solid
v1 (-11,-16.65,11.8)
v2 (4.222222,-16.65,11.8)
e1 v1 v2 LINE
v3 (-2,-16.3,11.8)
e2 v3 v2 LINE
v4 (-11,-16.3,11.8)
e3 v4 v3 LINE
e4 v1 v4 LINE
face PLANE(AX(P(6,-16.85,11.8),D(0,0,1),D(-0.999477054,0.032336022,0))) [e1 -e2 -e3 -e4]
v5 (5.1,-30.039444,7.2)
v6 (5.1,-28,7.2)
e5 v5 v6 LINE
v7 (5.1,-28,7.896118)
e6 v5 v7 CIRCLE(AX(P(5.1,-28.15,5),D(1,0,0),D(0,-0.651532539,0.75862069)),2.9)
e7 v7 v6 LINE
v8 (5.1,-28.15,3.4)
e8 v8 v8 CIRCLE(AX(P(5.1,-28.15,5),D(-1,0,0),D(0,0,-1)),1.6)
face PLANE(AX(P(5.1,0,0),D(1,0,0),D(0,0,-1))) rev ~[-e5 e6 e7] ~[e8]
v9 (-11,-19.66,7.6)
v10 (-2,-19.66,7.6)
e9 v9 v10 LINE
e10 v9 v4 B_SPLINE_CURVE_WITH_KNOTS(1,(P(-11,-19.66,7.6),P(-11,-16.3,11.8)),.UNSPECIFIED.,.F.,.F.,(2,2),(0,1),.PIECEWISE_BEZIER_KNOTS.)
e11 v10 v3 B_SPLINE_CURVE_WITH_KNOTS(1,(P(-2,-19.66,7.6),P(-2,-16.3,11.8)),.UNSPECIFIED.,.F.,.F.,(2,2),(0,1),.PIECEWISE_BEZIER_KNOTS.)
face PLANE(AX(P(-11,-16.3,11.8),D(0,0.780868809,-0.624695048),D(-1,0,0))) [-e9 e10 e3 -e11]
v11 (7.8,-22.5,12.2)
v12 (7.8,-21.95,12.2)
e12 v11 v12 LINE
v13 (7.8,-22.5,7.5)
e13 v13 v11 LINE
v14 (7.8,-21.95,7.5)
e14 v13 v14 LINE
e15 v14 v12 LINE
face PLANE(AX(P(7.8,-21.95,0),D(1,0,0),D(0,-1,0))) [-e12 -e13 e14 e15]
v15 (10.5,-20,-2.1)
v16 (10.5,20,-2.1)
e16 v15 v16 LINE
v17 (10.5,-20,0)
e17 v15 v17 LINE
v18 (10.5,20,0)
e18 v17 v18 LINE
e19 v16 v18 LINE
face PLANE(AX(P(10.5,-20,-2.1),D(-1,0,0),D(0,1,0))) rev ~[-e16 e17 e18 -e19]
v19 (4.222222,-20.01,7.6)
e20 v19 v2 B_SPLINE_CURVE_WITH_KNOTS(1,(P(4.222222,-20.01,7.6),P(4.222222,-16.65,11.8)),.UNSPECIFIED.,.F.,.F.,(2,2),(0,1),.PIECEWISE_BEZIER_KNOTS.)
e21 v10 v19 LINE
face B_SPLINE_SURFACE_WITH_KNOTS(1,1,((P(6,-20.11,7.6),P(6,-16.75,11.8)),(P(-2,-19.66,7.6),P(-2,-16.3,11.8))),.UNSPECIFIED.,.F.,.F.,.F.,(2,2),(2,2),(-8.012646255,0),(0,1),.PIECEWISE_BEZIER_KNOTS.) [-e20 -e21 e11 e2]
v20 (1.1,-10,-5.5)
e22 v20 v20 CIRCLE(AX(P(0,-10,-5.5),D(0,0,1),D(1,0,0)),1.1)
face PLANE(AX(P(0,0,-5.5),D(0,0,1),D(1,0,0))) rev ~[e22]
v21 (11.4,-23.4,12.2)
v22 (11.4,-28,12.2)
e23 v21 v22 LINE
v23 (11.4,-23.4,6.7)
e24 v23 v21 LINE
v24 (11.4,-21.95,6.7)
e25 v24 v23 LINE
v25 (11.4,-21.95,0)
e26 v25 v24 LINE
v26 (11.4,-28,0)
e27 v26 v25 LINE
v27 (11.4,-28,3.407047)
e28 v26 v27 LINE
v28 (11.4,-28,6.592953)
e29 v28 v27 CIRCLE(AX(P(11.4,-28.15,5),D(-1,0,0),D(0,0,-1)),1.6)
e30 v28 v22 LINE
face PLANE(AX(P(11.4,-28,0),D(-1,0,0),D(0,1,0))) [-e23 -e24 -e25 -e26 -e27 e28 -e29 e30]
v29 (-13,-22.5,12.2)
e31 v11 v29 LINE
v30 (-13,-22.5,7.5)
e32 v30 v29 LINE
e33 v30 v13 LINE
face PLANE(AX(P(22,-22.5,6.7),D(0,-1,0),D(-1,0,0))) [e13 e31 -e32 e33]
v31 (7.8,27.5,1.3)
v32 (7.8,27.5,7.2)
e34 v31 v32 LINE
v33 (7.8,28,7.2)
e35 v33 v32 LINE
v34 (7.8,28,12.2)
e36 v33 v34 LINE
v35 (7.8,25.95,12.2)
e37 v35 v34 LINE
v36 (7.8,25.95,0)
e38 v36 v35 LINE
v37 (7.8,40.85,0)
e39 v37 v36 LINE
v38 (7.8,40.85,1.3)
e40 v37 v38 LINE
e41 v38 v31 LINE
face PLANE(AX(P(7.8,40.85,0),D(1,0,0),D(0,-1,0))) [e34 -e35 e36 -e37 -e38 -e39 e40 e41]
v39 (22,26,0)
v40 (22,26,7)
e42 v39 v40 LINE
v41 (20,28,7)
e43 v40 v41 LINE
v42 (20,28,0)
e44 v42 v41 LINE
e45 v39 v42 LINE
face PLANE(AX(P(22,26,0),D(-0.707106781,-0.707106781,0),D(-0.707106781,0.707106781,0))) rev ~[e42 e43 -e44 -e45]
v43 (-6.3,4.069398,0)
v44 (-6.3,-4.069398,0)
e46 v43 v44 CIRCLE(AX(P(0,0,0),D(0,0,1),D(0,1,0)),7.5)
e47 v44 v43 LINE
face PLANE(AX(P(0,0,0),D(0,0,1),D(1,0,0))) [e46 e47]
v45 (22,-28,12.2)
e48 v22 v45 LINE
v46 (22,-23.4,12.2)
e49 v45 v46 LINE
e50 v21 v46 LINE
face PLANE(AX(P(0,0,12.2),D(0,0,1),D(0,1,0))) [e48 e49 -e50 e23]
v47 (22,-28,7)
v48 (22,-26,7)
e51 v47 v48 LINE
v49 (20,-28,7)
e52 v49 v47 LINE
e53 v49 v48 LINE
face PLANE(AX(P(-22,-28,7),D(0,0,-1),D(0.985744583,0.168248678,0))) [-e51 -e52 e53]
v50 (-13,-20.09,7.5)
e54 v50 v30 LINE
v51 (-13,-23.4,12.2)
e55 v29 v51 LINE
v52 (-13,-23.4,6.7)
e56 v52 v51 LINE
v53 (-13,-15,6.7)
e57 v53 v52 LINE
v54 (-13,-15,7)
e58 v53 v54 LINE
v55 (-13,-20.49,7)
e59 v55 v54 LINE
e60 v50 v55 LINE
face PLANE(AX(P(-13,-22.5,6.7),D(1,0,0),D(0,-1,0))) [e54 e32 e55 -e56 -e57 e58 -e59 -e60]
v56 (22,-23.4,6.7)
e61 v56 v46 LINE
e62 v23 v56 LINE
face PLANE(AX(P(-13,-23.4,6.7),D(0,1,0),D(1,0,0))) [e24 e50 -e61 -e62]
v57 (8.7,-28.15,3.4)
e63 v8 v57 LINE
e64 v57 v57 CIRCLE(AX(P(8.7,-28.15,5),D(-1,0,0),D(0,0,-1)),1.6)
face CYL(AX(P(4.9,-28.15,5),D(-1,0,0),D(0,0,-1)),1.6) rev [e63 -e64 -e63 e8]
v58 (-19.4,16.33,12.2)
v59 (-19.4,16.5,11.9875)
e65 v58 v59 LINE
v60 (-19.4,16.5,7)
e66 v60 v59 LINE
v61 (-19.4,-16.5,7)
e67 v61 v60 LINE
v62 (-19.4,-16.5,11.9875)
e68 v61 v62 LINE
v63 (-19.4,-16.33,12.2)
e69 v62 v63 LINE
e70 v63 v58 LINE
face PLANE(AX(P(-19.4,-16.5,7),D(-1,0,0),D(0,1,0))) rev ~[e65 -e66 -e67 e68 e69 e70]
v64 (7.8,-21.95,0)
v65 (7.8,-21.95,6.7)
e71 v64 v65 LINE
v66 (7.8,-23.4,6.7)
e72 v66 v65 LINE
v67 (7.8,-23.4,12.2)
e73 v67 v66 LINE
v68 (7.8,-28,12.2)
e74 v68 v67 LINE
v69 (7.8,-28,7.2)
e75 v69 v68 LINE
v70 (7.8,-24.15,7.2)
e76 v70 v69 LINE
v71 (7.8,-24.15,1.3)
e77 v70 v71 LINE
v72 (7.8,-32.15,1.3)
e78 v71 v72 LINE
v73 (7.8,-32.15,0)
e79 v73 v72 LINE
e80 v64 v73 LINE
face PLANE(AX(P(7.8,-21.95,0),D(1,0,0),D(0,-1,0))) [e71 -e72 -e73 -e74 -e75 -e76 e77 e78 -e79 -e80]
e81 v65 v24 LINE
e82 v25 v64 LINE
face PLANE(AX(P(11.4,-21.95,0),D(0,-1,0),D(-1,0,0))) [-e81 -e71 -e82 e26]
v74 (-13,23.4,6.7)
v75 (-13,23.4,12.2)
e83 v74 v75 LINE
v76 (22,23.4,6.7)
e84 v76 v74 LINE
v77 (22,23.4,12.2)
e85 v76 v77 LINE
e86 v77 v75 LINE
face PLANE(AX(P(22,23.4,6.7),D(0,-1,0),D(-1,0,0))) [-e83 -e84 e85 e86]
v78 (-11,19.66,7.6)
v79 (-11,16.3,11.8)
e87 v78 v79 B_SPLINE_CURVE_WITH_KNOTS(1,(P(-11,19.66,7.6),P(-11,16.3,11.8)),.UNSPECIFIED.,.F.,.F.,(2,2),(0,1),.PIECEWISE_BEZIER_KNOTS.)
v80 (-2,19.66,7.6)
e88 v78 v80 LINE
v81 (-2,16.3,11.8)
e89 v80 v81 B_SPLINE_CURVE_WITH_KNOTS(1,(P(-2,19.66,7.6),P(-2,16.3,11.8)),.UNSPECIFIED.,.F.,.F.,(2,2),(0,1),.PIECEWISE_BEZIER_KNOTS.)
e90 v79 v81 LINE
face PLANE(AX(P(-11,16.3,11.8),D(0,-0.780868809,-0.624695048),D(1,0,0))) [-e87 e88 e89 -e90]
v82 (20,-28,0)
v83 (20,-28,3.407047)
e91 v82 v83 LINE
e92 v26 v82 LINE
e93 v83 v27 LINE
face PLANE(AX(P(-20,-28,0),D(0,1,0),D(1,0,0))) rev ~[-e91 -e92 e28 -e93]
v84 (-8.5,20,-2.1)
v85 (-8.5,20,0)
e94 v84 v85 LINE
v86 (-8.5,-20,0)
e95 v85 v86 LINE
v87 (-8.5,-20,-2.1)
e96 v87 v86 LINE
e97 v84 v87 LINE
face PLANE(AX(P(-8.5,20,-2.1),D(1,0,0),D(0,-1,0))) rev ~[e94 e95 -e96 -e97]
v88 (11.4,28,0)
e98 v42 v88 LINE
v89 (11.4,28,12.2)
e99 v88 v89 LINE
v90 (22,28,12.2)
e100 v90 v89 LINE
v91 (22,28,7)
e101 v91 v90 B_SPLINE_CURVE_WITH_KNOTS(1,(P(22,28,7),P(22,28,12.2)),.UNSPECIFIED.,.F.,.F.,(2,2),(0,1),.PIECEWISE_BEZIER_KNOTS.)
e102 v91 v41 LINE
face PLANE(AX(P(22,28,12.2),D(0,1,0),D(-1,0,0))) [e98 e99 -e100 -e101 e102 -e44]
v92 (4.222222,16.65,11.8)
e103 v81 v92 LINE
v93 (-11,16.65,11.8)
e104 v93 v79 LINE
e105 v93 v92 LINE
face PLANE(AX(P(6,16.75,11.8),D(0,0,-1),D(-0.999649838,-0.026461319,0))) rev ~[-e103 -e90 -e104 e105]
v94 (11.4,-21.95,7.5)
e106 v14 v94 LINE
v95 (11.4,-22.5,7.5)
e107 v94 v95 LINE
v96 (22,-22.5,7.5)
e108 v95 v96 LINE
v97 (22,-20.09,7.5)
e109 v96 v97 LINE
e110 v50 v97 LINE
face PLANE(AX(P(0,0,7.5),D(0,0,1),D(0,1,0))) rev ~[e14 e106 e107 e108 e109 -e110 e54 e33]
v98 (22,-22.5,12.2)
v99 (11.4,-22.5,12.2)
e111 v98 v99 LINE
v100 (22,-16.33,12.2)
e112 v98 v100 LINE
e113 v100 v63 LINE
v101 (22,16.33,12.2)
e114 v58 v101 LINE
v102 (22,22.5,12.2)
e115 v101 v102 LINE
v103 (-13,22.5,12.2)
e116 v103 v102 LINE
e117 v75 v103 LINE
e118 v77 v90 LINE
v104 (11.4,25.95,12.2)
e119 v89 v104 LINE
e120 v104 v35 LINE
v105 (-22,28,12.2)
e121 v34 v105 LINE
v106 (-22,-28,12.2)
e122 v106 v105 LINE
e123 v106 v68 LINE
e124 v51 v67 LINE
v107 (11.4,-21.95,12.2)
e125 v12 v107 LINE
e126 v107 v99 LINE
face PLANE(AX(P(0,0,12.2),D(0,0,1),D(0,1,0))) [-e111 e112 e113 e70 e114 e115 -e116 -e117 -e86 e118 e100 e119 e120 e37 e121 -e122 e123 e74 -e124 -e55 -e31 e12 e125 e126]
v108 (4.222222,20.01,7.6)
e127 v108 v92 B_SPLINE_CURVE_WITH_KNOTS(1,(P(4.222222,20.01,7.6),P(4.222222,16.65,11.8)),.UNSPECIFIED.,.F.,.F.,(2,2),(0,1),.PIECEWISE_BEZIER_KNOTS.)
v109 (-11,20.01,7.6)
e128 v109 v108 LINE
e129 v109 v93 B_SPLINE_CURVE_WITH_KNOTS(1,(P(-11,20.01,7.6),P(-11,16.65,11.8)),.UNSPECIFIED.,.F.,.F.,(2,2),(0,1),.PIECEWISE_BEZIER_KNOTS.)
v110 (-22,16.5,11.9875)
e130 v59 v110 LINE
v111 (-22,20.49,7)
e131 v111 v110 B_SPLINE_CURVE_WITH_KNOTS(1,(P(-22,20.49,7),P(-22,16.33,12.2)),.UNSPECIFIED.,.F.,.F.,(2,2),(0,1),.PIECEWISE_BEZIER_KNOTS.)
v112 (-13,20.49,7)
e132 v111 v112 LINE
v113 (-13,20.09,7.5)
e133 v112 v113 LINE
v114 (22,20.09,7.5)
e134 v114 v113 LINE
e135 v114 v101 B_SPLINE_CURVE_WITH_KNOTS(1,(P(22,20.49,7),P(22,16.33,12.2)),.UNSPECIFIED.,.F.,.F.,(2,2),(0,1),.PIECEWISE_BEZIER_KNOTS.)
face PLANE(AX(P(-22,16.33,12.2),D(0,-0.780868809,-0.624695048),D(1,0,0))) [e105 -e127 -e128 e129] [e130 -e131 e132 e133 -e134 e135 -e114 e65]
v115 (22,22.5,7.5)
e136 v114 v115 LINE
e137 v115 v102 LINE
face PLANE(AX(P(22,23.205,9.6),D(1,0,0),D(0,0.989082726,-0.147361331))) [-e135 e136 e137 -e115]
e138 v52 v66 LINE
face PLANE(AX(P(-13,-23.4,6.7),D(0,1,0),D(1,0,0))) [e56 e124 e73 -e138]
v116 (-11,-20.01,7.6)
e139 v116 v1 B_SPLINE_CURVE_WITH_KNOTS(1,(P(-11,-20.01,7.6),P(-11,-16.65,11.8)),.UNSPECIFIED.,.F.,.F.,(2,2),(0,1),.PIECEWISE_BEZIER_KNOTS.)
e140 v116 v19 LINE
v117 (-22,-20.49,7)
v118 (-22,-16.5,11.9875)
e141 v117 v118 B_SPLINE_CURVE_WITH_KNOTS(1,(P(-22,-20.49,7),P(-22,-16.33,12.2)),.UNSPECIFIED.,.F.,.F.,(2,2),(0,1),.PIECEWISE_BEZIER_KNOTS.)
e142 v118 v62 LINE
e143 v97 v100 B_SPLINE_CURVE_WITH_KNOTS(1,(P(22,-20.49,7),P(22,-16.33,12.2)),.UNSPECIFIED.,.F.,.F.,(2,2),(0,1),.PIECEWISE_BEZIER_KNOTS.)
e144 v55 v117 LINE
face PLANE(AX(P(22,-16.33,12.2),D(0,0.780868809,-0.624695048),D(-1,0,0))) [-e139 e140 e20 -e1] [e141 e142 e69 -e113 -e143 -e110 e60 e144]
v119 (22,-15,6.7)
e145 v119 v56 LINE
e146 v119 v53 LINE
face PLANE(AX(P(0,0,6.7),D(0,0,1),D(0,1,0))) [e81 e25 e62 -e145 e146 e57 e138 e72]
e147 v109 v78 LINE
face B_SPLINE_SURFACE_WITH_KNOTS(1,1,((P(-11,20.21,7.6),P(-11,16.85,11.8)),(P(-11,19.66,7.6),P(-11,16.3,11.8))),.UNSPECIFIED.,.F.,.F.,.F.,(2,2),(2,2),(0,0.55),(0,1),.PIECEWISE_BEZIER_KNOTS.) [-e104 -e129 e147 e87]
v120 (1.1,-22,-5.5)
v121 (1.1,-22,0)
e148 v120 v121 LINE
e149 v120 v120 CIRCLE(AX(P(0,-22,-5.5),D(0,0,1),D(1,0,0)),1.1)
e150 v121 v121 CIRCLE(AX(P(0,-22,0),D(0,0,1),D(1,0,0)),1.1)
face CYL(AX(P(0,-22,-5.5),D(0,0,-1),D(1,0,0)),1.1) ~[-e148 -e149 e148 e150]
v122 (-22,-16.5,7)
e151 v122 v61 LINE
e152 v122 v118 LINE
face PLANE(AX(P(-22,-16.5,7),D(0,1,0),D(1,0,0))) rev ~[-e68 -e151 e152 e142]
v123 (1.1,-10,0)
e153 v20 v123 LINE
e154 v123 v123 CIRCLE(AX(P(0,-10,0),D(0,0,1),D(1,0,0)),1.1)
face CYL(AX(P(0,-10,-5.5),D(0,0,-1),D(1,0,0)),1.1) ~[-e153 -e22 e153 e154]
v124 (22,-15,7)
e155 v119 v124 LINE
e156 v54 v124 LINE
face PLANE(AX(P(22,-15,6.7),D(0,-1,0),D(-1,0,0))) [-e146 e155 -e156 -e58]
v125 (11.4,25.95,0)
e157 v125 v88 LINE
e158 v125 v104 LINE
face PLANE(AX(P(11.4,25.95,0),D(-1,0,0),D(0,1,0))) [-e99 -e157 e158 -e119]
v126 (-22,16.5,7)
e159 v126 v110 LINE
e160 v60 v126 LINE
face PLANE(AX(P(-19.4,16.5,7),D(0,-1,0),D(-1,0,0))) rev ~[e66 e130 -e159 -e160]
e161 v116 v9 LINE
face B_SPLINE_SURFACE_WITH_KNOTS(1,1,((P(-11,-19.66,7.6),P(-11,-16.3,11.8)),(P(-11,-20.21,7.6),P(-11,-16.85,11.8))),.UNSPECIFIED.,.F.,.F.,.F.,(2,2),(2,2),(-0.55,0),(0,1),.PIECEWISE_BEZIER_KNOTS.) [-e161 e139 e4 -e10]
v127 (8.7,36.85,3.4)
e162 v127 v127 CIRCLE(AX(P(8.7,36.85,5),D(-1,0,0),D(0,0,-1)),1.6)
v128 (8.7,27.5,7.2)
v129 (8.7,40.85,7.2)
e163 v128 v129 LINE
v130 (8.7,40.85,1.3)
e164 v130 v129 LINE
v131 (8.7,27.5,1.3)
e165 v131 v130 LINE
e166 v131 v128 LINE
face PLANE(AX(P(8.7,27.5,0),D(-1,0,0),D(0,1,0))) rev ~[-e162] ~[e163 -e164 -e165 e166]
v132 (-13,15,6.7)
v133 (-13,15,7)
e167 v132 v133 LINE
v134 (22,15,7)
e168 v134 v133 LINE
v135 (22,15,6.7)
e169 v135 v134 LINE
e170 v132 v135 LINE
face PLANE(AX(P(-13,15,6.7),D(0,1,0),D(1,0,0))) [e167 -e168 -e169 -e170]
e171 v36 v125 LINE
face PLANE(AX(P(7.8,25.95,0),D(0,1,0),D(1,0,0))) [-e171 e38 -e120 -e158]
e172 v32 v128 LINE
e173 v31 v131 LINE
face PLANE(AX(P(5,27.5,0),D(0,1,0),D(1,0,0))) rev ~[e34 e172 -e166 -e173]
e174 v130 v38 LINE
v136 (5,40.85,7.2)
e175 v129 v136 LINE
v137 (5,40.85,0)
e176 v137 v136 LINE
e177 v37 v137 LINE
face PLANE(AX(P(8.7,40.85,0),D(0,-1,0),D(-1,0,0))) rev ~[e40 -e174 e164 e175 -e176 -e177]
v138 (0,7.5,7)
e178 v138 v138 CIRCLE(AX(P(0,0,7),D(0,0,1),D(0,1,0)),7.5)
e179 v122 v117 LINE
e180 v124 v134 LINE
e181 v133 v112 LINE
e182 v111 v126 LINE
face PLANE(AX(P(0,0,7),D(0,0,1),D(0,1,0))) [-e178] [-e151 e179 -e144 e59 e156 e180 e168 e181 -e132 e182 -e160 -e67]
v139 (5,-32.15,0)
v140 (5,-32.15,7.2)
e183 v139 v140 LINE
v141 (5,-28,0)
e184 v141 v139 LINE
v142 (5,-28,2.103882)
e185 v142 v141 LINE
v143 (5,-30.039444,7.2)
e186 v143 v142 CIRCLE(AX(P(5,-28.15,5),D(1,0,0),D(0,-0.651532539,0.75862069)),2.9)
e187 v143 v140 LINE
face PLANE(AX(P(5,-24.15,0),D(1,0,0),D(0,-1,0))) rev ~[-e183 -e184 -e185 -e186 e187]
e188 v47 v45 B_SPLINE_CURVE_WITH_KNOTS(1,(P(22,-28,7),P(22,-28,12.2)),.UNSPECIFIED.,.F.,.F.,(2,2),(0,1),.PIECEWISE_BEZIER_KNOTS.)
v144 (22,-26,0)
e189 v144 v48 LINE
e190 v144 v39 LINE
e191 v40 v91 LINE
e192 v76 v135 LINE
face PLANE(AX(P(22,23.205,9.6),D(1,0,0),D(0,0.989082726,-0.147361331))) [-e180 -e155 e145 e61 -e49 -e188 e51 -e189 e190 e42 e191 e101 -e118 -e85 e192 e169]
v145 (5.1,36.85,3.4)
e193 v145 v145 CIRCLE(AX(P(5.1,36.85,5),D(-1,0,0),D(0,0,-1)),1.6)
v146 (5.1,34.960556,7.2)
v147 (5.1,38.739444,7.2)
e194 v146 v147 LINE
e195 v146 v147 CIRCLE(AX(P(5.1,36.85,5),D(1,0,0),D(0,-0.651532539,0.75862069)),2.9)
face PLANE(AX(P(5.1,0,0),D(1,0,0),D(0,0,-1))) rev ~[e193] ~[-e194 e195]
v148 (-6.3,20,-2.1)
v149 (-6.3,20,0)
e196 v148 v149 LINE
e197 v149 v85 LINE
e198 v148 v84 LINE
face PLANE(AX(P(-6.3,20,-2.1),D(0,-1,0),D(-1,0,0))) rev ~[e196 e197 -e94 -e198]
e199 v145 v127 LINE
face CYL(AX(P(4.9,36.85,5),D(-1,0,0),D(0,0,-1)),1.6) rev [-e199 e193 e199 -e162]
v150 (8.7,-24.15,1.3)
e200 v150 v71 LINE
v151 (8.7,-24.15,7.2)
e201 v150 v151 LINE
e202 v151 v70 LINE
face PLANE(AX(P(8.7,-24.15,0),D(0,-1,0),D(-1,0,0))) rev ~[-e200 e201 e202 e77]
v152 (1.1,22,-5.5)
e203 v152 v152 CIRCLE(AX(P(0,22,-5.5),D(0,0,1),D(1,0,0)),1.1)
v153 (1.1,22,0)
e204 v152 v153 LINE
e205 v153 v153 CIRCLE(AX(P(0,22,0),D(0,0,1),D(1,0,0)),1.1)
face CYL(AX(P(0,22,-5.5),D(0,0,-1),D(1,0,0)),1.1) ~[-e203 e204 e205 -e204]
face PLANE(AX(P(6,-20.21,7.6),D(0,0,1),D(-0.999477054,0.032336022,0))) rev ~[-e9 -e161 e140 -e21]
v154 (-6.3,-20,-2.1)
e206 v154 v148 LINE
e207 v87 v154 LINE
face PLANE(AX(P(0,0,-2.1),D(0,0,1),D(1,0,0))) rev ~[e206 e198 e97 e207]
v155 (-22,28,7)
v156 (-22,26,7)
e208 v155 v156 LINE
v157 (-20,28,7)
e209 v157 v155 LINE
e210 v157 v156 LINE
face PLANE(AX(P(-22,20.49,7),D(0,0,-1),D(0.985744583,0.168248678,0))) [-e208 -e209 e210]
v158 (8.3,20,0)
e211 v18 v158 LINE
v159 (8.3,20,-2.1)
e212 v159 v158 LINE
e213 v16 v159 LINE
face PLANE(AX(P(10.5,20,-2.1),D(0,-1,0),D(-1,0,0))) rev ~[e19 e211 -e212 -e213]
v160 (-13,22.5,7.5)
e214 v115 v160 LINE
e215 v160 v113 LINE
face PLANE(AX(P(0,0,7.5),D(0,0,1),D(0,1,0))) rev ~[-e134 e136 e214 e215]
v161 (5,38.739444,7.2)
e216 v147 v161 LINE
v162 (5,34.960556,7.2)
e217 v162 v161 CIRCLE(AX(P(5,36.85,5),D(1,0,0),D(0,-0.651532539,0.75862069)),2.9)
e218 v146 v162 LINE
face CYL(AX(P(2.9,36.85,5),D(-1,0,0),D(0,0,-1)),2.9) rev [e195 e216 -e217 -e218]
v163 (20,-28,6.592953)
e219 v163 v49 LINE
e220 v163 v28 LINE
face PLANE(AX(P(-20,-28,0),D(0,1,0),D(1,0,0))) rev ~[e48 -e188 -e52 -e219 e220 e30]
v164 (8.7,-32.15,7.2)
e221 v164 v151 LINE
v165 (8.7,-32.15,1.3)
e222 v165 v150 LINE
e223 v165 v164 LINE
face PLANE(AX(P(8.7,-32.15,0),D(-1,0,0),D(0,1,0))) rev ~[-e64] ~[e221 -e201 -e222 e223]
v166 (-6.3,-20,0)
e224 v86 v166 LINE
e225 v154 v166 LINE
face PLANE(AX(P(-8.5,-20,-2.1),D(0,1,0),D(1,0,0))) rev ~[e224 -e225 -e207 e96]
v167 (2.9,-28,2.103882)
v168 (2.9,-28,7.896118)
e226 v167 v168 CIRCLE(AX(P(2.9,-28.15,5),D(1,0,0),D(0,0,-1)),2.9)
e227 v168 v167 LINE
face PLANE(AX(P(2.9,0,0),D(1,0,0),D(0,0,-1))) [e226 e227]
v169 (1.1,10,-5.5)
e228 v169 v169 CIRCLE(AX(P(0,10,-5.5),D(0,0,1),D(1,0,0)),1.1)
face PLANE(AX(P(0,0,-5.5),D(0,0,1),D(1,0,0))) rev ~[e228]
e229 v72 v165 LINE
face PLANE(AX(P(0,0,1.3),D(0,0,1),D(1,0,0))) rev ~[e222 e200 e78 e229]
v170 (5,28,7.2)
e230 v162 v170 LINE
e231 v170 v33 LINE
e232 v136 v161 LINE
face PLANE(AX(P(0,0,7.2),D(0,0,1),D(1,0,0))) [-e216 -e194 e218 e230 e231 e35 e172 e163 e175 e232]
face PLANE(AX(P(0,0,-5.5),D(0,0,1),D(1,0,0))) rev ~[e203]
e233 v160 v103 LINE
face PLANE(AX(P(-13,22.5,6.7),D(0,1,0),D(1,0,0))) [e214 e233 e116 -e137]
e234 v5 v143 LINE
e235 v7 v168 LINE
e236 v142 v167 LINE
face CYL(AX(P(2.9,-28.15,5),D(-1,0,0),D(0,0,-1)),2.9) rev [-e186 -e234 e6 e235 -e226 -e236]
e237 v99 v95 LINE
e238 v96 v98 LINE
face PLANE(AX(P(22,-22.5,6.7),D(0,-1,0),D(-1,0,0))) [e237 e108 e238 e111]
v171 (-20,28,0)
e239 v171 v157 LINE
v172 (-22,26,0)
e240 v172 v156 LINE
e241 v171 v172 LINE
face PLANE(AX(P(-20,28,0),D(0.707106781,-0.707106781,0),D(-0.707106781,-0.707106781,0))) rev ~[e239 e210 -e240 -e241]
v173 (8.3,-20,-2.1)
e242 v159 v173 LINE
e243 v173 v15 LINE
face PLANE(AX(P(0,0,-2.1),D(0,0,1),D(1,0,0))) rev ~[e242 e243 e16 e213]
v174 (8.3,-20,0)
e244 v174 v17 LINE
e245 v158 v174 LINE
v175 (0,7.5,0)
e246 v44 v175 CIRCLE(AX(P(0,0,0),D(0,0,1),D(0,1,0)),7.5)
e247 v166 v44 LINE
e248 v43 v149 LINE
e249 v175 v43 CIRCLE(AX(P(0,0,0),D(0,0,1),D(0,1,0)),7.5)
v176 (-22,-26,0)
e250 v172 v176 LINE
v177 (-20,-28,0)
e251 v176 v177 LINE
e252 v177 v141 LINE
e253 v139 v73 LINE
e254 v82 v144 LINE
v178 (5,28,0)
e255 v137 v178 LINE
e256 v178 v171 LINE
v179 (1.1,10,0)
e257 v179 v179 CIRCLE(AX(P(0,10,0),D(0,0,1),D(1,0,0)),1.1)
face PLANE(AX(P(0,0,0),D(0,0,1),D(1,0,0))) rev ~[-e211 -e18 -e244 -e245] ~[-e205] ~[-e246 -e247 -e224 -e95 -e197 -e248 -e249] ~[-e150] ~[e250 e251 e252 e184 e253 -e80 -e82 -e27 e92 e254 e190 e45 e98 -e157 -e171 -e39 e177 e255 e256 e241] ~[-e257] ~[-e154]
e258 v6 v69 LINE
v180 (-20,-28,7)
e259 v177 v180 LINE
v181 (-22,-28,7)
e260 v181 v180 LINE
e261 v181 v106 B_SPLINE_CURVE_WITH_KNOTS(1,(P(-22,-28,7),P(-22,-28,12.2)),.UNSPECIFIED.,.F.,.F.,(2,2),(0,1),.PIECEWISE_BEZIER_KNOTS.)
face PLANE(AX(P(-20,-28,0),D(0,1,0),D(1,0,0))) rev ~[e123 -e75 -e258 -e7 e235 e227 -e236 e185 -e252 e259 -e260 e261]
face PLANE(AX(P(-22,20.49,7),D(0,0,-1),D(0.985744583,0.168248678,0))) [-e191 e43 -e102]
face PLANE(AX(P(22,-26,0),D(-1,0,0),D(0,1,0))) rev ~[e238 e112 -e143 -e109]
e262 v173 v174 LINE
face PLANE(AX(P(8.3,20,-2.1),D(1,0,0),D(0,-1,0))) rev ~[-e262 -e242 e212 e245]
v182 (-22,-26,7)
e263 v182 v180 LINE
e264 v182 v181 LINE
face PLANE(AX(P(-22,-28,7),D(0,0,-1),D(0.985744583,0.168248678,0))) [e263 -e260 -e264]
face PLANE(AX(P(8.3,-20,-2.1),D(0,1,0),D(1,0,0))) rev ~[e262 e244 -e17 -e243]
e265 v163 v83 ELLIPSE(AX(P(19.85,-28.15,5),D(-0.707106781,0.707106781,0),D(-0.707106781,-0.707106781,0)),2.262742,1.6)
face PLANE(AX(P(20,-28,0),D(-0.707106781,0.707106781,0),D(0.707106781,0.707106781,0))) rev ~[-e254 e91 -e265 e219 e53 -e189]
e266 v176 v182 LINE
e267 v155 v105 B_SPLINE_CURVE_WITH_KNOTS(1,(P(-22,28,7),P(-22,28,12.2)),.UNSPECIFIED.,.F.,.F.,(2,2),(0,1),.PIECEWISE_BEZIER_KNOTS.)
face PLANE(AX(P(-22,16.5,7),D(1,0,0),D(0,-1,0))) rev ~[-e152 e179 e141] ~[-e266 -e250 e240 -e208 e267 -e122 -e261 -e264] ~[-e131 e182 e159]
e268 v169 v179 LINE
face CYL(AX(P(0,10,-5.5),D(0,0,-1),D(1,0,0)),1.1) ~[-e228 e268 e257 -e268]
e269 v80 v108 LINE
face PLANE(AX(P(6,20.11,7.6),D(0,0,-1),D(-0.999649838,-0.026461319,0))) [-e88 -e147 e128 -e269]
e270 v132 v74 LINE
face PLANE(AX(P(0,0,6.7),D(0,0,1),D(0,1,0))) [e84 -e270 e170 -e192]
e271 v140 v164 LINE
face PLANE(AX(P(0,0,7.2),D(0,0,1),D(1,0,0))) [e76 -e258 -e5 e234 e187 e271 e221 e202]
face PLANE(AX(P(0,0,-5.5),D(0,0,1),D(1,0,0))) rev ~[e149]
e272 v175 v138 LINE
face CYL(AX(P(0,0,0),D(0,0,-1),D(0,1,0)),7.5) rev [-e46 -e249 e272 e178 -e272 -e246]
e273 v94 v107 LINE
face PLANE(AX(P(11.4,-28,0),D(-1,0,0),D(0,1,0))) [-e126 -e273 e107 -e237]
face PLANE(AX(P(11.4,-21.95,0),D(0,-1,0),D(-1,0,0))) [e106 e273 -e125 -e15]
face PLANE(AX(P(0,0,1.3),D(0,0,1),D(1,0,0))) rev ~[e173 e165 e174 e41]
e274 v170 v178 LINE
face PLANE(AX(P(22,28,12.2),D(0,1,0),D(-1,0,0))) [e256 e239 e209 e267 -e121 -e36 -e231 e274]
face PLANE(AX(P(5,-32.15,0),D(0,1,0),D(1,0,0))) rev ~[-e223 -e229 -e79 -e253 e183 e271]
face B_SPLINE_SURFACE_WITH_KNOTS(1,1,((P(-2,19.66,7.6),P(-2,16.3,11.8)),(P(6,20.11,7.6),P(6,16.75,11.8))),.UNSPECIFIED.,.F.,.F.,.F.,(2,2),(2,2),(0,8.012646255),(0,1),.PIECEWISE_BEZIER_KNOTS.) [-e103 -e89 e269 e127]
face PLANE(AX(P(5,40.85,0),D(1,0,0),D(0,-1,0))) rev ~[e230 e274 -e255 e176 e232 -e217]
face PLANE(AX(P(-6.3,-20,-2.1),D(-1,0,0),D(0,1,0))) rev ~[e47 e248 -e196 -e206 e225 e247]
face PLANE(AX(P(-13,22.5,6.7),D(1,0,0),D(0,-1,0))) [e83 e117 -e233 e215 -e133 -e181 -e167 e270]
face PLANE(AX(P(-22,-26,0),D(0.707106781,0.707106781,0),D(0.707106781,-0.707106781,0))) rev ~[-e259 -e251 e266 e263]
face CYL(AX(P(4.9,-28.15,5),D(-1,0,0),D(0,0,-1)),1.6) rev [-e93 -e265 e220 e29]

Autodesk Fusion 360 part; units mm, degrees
ref_plane "工作平面1" through (0, 0, 0) normal (0, 0, 1) x (1, 0, 0)
sketch "草图1" plane through (0, 0, 0) normal (0, 0, 1) x (1, 0, 0)
  line L0 (-26, -22) -> (26, -22)
  line L1 (26, -22) -> (28, -20)
  line L2 (28, -20) -> (28, 20)
  line L3 (28, 20) -> (26, 22)
  line L4 (26, 22) -> (-26, 22)
  line L5 (-26, 22) -> (-28, 20)
  line L6 (-28, 20) -> (-28, -20)
  line L7 (-28, -20) -> (-26, -22)
extrude "56 x 44 x 7 platform" add sketch "草图1" along normal blind 7
ref_plane "工作平面2" through (0, 0, 7) normal (0, 0, 1) x (1, 0, 0)
sketch "草图2" plane through (0, 0, 7) normal (0, 0, 1) x (1, 0, 0)
  line L0 (-28, -22) -> (-20.49, -22)
  line L1 (-20.49, -22) -> (-20.49, 22)
  line L2 (-20.49, 22) -> (-28, 22)
  line L3 (-28, 22) -> (-28, -22)
ref_plane "工作平面3" through (0, 0, 12.2) normal (0, 0, 1) x (1, 0, 0)
sketch "草图3" plane through (0, 0, 12.2) normal (0, 0, 1) x (1, 0, 0)
  line L0 (-28, -22) -> (-16.33, -22)
  line L1 (-16.33, -22) -> (-16.33, 22)
  line L2 (-16.33, 22) -> (-28, 22)
  line L3 (-28, 22) -> (-28, -22)
loft "Dovetail retaining rail 0.8 to 1 -1" add profiles "草图2", "草图3" section 1 section 2
ref_plane "工作平面4" through (0, 0, 6.7) normal (0, 0, 1) x (1, 0, 0)
sketch "草图4" plane through (0, 0, 6.7) normal (0, 0, 1) x (1, 0, 0)
  line L0 (-23.4, -22) -> (-22.5, -22)
  line L1 (-22.5, -22) -> (-22.5, 13)
  line L2 (-22.5, 13) -> (-23.4, 13)
  line L3 (-23.4, 13) -> (-23.4, -22)
extrude "0.9 mm longitudinal flexure slot -1" cut sketch "草图4" along normal blind 5.8
ref_plane "工作平面5" through (0, 0, 6.7) normal (0, 0, 1) x (1, 0, 0)
sketch "草图5" plane through (0, 0, 6.7) normal (0, 0, 1) x (1, 0, 0)
  line L0 (-22.5, -22) -> (-15, -22)
  line L1 (-15, -22) -> (-15, 13)
  line L2 (-15, 13) -> (-22.5, 13)
  line L3 (-22.5, 13) -> (-22.5, -22)
extrude "0.8 mm flexure underside relief -1" cut sketch "草图5" along normal blind 0.8
ref_plane "工作平面6" through (0, 0, 7.6) normal (0, 0, 1) x (1, 0, 0)
sketch "草图6" plane through (0, 0, 7.6) normal (0, 0, 1) x (1, 0, 0)
  line L0 (-20.21, -6) -> (-20.21, 11)
  line L1 (-20.21, 11) -> (-19.66, 11)
  line L2 (-19.66, 11) -> (-19.66, 2)
  line L3 (-19.66, 2) -> (-20.11, -6)
  line L4 (-20.11, -6) -> (-20.21, -6)
ref_plane "工作平面7" through (0, 0, 11.8) normal (0, 0, 1) x (1, 0, 0)
sketch "草图7" plane through (0, 0, 11.8) normal (0, 0, 1) x (1, 0, 0)
  line L0 (-16.85, -6) -> (-16.85, 11)
  line L1 (-16.85, 11) -> (-16.3, 11)
  line L2 (-16.3, 11) -> (-16.3, 2)
  line L3 (-16.3, 2) -> (-16.75, -6)
  line L4 (-16.75, -6) -> (-16.85, -6)
loft "Tapered friction contact rib -1" add profiles "草图6", "草图7" section 1 section 2
ref_plane "工作平面8" through (0, 0, 7) normal (0, 0, 1) x (1, 0, 0)
sketch "草图8" plane through (0, 0, 7) normal (0, 0, 1) x (1, 0, 0)
  line L0 (20.49, -22) -> (28, -22)
  line L1 (28, -22) -> (28, 22)
  line L2 (28, 22) -> (20.49, 22)
  line L3 (20.49, 22) -> (20.49, -22)
ref_plane "工作平面9" through (0, 0, 12.2) normal (0, 0, 1) x (1, 0, 0)
sketch "草图9" plane through (0, 0, 12.2) normal (0, 0, 1) x (1, 0, 0)
  line L0 (16.33, -22) -> (28, -22)
  line L1 (28, -22) -> (28, 22)
  line L2 (28, 22) -> (16.33, 22)
  line L3 (16.33, 22) -> (16.33, -22)
loft "Dovetail retaining rail 0.8 to 1 1" add profiles "草图8", "草图9" section 1 section 2
ref_plane "工作平面10" through (0, 0, 6.7) normal (0, 0, 1) x (1, 0, 0)
sketch "草图10" plane through (0, 0, 6.7) normal (0, 0, 1) x (1, 0, 0)
  line L0 (22.5, -22) -> (23.4, -22)
  line L1 (23.4, -22) -> (23.4, 13)
  line L2 (23.4, 13) -> (22.5, 13)
  line L3 (22.5, 13) -> (22.5, -22)
extrude "0.9 mm longitudinal flexure slot 1" cut sketch "草图10" along normal blind 5.8
ref_plane "工作平面11" through (0, 0, 6.7) normal (0, 0, 1) x (1, 0, 0)
sketch "草图11" plane through (0, 0, 6.7) normal (0, 0, 1) x (1, 0, 0)
  line L0 (15, -22) -> (22.5, -22)
  line L1 (22.5, -22) -> (22.5, 13)
  line L2 (22.5, 13) -> (15, 13)
  line L3 (15, 13) -> (15, -22)
extrude "0.8 mm flexure underside relief 1" cut sketch "草图11" along normal blind 0.8
ref_plane "工作平面12" through (0, 0, 7.6) normal (0, 0, 1) x (1, 0, 0)
sketch "草图12" plane through (0, 0, 7.6) normal (0, 0, 1) x (1, 0, 0)
  line L0 (20.21, -6) -> (20.21, 11)
  line L1 (20.21, 11) -> (19.66, 11)
  line L2 (19.66, 11) -> (19.66, 2)
  line L3 (19.66, 2) -> (20.11, -6)
  line L4 (20.11, -6) -> (20.21, -6)
ref_plane "工作平面13" through (0, 0, 11.8) normal (0, 0, 1) x (1, 0, 0)
sketch "草图13" plane through (0, 0, 11.8) normal (0, 0, 1) x (1, 0, 0)
  line L0 (16.85, -6) -> (16.85, 11)
  line L1 (16.85, 11) -> (16.3, 11)
  line L2 (16.3, 11) -> (16.3, 2)
  line L3 (16.3, 2) -> (16.75, -6)
  line L4 (16.75, -6) -> (16.85, -6)
loft "Tapered friction contact rib 1" add profiles "草图12", "草图13" section 1 section 2
ref_plane "工作平面14" through (0, 0, 7) normal (0, 0, 1) x (1, 0, 0)
sketch "草图14" plane through (0, 0, 7) normal (0, 0, 1) x (1, 0, 0)
  line L0 (-16.5, 19.4) -> (16.5, 19.4)
  line L1 (16.5, 19.4) -> (16.5, 22)
  line L2 (16.5, 22) -> (-16.5, 22)
  line L3 (-16.5, 22) -> (-16.5, 19.4)
extrude "Closed insertion end stop" add sketch "草图14" along normal blind 5.2
ref_plane "工作平面15" through (0, 0, 0) normal (0, 0, 1) x (1, 0, 0)
sketch "草图15" plane through (0, 0, 0) normal (0, 0, 1) x (1, 0, 0)
  circle A0 centre (0, 0) radius 7.5
extrude "15 mm screw and driver access" cut sketch "草图15" along normal blind 7
move_body "Align camera long edge with gimbal arm - 90 degrees" bodies 1 to x (0, 1, 0) y (-1, 0, 0) z (0, 0, 1) at (0, 0, 0)
ref_plane "工作平面16" through (0, 0, 0) normal (0, 0, 1) x (1, 0, 0)
sketch "草图16" plane through (0, 0, 0) normal (0, 0, 1) x (1, 0, 0)
  line L0 (7.8, -28) -> (11.4, -28)
  line L1 (11.4, -28) -> (11.4, -21.95)
  line L2 (11.4, -21.95) -> (7.8, -21.95)
  line L3 (7.8, -21.95) -> (7.8, -28)
extrude "Clear original raised tab and root fillet" cut sketch "草图16" along normal blind 12.3
ref_plane "工作平面17" through (0, 0, 0) normal (0, 0, 1) x (1, 0, 0)
sketch "草图17" plane through (0, 0, 0) normal (0, 0, 1) x (1, 0, 0)
  line L0 (7.8, 25.95) -> (11.4, 25.95)
  line L1 (11.4, 25.95) -> (11.4, 28)
  line L2 (11.4, 28) -> (7.8, 28)
  line L3 (7.8, 28) -> (7.8, 25.95)
extrude "Clear original raised tab and root fillet (1)" cut sketch "草图17" along normal blind 12.3
ref_plane "工作平面18" through (0, 0, -2.1) normal (0, 0, 1) x (1, 0, 0)
sketch "草图18" plane through (0, 0, -2.1) normal (0, 0, 1) x (1, 0, 0)
  line L0 (-8.5, -20) -> (-6.3, -20)
  line L1 (-6.3, -20) -> (-6.3, 20)
  line L2 (-6.3, 20) -> (-8.5, 20)
  line L3 (-8.5, 20) -> (-8.5, -20)
extrude "Arm lateral locating shoulder" add sketch "草图18" along normal blind 2.1
ref_plane "工作平面19" through (0, 0, -2.1) normal (0, 0, 1) x (1, 0, 0)
sketch "草图19" plane through (0, 0, -2.1) normal (0, 0, 1) x (1, 0, 0)
  line L0 (8.3, -20) -> (10.5, -20)
  line L1 (10.5, -20) -> (10.5, 20)
  line L2 (10.5, 20) -> (8.3, 20)
  line L3 (8.3, 20) -> (8.3, -20)
extrude "Arm lateral locating shoulder (1)" add sketch "草图19" along normal blind 2.1
ref_plane "工作平面20" through (0, 0, -5.5) normal (0, 0, 1) x (1, 0, 0)
sketch "草图20" plane through (0, 0, -5.5) normal (0, 0, 1) x (1, 0, 0)
  circle A0 centre (0, -22) radius 1.1
extrude "Reinforced 2.2 x 5.5 mm heat stake pin at arm y -22" add sketch "草图20" along normal blind 5.5
ref_plane "工作平面21" through (0, 0, -5.5) normal (0, 0, 1) x (1, 0, 0)
sketch "草图21" plane through (0, 0, -5.5) normal (0, 0, 1) x (1, 0, 0)
  circle A0 centre (0, -10) radius 1.1
extrude "Reinforced 2.2 x 5.5 mm heat stake pin at arm y -10" add sketch "草图21" along normal blind 5.5
ref_plane "工作平面22" through (0, 0, -5.5) normal (0, 0, 1) x (1, 0, 0)
sketch "草图22" plane through (0, 0, -5.5) normal (0, 0, 1) x (1, 0, 0)
  circle A0 centre (0, 10) radius 1.1
extrude "Reinforced 2.2 x 5.5 mm heat stake pin at arm y 10" add sketch "草图22" along normal blind 5.5
ref_plane "工作平面23" through (0, 0, -5.5) normal (0, 0, 1) x (1, 0, 0)
sketch "草图23" plane through (0, 0, -5.5) normal (0, 0, 1) x (1, 0, 0)
  circle A0 centre (0, 22) radius 1.1
extrude "Reinforced 2.2 x 5.5 mm heat stake pin at arm y 22" add sketch "草图23" along normal blind 5.5
ref_plane "工作平面24" through (0, 0, 0) normal (0, 0, 1) x (1, 0, 0)
sketch "草图24" plane through (0, 0, 0) normal (0, 0, 1) x (1, 0, 0)
  line L0 (5, -32.15) -> (8.7, -32.15)
  line L1 (8.7, -32.15) -> (8.7, -24.15)
  line L2 (8.7, -24.15) -> (5, -24.15)
  line L3 (5, -24.15) -> (5, -32.15)
extrude "Ear for original 3.2 mm side hole at arm y -28.15" add sketch "草图24" along normal blind 7.2
ref_plane "工作平面25" through (0, 0, 0) normal (0, 0, 1) x (1, 0, 0)
sketch "草图25" plane through (0, 0, 0) normal (0, 0, 1) x (1, 0, 0)
  line L0 (7.8, -32.15) -> (8.9, -32.15)
  line L1 (8.9, -32.15) -> (8.9, -24.15)
  line L2 (8.9, -24.15) -> (7.8, -24.15)
  line L3 (7.8, -24.15) -> (7.8, -32.15)
extrude "Ear relief around original arm root radius" cut sketch "草图25" along normal blind 1.3
ref_plane "工作平面26" through (4.9, 0, 0) normal (1, 0, 0) x (0, 1, 0)
sketch "草图26" plane through (4.9, 0, 0) normal (1, 0, 0) x (0, 0, -1)
  circle A0 centre (-5, -28.15) radius 1.6
extrude "Side rivet ear clearance" cut sketch "草图26" along normal blind 4
ref_plane "工作平面27" through (0, 0, 0) normal (0, 0, 1) x (1, 0, 0)
sketch "草图27" plane through (0, 0, 0) normal (0, 0, 1) x (1, 0, 0)
  line L0 (5, 27.5) -> (8.7, 27.5)
  line L1 (8.7, 27.5) -> (8.7, 40.85)
  line L2 (8.7, 40.85) -> (5, 40.85)
  line L3 (5, 40.85) -> (5, 27.5)
extrude "Ear for original 3.2 mm side hole at arm y 36.85" add sketch "草图27" along normal blind 7.2
ref_plane "工作平面28" through (0, 0, 0) normal (0, 0, 1) x (1, 0, 0)
sketch "草图28" plane through (0, 0, 0) normal (0, 0, 1) x (1, 0, 0)
  line L0 (7.8, 27.5) -> (8.9, 27.5)
  line L1 (8.9, 27.5) -> (8.9, 40.85)
  line L2 (8.9, 40.85) -> (7.8, 40.85)
  line L3 (7.8, 40.85) -> (7.8, 27.5)
extrude "Ear relief around original arm root radius (1)" cut sketch "草图28" along normal blind 1.3
ref_plane "工作平面29" through (4.9, 0, 0) normal (1, 0, 0) x (0, 1, 0)
sketch "草图29" plane through (4.9, 0, 0) normal (1, 0, 0) x (0, 0, -1)
  circle A0 centre (-5, 36.85) radius 1.6
extrude "Side rivet ear clearance (1)" cut sketch "草图29" along normal blind 4
ref_plane "工作平面30" through (4.9, 0, 0) normal (1, 0, 0) x (0, 1, 0)
sketch "草图30" plane through (4.9, 0, 0) normal (1, 0, 0) x (0, 0, -1)
  circle A0 centre (-5, -28.15) radius 1.6
extrude "Side rivet full passage clearance" cut sketch "草图30" along normal blind 20
ref_plane "工作平面31" through (2.9, 0, 0) normal (1, 0, 0) x (0, 1, 0)
sketch "草图31" plane through (2.9, 0, 0) normal (1, 0, 0) x (0, 0, -1)
  circle A0 centre (-5, -28.15) radius 2.9
extrude "Side rivet flange counterbore" cut sketch "草图31" along normal blind 2.2
ref_plane "工作平面32" through (4.9, 0, 0) normal (1, 0, 0) x (0, 1, 0)
sketch "草图32" plane through (4.9, 0, 0) normal (1, 0, 0) x (0, 0, -1)
  circle A0 centre (-5, 36.85) radius 1.6
ref_plane "工作平面33" through (2.9, 0, 0) normal (1, 0, 0) x (0, 1, 0)
sketch "草图33" plane through (2.9, 0, 0) normal (1, 0, 0) x (0, 0, -1)
  circle A0 centre (-5, 36.85) radius 2.9
extrude "Side rivet flange counterbore (1)" cut sketch "草图33" along normal blind 2.2
